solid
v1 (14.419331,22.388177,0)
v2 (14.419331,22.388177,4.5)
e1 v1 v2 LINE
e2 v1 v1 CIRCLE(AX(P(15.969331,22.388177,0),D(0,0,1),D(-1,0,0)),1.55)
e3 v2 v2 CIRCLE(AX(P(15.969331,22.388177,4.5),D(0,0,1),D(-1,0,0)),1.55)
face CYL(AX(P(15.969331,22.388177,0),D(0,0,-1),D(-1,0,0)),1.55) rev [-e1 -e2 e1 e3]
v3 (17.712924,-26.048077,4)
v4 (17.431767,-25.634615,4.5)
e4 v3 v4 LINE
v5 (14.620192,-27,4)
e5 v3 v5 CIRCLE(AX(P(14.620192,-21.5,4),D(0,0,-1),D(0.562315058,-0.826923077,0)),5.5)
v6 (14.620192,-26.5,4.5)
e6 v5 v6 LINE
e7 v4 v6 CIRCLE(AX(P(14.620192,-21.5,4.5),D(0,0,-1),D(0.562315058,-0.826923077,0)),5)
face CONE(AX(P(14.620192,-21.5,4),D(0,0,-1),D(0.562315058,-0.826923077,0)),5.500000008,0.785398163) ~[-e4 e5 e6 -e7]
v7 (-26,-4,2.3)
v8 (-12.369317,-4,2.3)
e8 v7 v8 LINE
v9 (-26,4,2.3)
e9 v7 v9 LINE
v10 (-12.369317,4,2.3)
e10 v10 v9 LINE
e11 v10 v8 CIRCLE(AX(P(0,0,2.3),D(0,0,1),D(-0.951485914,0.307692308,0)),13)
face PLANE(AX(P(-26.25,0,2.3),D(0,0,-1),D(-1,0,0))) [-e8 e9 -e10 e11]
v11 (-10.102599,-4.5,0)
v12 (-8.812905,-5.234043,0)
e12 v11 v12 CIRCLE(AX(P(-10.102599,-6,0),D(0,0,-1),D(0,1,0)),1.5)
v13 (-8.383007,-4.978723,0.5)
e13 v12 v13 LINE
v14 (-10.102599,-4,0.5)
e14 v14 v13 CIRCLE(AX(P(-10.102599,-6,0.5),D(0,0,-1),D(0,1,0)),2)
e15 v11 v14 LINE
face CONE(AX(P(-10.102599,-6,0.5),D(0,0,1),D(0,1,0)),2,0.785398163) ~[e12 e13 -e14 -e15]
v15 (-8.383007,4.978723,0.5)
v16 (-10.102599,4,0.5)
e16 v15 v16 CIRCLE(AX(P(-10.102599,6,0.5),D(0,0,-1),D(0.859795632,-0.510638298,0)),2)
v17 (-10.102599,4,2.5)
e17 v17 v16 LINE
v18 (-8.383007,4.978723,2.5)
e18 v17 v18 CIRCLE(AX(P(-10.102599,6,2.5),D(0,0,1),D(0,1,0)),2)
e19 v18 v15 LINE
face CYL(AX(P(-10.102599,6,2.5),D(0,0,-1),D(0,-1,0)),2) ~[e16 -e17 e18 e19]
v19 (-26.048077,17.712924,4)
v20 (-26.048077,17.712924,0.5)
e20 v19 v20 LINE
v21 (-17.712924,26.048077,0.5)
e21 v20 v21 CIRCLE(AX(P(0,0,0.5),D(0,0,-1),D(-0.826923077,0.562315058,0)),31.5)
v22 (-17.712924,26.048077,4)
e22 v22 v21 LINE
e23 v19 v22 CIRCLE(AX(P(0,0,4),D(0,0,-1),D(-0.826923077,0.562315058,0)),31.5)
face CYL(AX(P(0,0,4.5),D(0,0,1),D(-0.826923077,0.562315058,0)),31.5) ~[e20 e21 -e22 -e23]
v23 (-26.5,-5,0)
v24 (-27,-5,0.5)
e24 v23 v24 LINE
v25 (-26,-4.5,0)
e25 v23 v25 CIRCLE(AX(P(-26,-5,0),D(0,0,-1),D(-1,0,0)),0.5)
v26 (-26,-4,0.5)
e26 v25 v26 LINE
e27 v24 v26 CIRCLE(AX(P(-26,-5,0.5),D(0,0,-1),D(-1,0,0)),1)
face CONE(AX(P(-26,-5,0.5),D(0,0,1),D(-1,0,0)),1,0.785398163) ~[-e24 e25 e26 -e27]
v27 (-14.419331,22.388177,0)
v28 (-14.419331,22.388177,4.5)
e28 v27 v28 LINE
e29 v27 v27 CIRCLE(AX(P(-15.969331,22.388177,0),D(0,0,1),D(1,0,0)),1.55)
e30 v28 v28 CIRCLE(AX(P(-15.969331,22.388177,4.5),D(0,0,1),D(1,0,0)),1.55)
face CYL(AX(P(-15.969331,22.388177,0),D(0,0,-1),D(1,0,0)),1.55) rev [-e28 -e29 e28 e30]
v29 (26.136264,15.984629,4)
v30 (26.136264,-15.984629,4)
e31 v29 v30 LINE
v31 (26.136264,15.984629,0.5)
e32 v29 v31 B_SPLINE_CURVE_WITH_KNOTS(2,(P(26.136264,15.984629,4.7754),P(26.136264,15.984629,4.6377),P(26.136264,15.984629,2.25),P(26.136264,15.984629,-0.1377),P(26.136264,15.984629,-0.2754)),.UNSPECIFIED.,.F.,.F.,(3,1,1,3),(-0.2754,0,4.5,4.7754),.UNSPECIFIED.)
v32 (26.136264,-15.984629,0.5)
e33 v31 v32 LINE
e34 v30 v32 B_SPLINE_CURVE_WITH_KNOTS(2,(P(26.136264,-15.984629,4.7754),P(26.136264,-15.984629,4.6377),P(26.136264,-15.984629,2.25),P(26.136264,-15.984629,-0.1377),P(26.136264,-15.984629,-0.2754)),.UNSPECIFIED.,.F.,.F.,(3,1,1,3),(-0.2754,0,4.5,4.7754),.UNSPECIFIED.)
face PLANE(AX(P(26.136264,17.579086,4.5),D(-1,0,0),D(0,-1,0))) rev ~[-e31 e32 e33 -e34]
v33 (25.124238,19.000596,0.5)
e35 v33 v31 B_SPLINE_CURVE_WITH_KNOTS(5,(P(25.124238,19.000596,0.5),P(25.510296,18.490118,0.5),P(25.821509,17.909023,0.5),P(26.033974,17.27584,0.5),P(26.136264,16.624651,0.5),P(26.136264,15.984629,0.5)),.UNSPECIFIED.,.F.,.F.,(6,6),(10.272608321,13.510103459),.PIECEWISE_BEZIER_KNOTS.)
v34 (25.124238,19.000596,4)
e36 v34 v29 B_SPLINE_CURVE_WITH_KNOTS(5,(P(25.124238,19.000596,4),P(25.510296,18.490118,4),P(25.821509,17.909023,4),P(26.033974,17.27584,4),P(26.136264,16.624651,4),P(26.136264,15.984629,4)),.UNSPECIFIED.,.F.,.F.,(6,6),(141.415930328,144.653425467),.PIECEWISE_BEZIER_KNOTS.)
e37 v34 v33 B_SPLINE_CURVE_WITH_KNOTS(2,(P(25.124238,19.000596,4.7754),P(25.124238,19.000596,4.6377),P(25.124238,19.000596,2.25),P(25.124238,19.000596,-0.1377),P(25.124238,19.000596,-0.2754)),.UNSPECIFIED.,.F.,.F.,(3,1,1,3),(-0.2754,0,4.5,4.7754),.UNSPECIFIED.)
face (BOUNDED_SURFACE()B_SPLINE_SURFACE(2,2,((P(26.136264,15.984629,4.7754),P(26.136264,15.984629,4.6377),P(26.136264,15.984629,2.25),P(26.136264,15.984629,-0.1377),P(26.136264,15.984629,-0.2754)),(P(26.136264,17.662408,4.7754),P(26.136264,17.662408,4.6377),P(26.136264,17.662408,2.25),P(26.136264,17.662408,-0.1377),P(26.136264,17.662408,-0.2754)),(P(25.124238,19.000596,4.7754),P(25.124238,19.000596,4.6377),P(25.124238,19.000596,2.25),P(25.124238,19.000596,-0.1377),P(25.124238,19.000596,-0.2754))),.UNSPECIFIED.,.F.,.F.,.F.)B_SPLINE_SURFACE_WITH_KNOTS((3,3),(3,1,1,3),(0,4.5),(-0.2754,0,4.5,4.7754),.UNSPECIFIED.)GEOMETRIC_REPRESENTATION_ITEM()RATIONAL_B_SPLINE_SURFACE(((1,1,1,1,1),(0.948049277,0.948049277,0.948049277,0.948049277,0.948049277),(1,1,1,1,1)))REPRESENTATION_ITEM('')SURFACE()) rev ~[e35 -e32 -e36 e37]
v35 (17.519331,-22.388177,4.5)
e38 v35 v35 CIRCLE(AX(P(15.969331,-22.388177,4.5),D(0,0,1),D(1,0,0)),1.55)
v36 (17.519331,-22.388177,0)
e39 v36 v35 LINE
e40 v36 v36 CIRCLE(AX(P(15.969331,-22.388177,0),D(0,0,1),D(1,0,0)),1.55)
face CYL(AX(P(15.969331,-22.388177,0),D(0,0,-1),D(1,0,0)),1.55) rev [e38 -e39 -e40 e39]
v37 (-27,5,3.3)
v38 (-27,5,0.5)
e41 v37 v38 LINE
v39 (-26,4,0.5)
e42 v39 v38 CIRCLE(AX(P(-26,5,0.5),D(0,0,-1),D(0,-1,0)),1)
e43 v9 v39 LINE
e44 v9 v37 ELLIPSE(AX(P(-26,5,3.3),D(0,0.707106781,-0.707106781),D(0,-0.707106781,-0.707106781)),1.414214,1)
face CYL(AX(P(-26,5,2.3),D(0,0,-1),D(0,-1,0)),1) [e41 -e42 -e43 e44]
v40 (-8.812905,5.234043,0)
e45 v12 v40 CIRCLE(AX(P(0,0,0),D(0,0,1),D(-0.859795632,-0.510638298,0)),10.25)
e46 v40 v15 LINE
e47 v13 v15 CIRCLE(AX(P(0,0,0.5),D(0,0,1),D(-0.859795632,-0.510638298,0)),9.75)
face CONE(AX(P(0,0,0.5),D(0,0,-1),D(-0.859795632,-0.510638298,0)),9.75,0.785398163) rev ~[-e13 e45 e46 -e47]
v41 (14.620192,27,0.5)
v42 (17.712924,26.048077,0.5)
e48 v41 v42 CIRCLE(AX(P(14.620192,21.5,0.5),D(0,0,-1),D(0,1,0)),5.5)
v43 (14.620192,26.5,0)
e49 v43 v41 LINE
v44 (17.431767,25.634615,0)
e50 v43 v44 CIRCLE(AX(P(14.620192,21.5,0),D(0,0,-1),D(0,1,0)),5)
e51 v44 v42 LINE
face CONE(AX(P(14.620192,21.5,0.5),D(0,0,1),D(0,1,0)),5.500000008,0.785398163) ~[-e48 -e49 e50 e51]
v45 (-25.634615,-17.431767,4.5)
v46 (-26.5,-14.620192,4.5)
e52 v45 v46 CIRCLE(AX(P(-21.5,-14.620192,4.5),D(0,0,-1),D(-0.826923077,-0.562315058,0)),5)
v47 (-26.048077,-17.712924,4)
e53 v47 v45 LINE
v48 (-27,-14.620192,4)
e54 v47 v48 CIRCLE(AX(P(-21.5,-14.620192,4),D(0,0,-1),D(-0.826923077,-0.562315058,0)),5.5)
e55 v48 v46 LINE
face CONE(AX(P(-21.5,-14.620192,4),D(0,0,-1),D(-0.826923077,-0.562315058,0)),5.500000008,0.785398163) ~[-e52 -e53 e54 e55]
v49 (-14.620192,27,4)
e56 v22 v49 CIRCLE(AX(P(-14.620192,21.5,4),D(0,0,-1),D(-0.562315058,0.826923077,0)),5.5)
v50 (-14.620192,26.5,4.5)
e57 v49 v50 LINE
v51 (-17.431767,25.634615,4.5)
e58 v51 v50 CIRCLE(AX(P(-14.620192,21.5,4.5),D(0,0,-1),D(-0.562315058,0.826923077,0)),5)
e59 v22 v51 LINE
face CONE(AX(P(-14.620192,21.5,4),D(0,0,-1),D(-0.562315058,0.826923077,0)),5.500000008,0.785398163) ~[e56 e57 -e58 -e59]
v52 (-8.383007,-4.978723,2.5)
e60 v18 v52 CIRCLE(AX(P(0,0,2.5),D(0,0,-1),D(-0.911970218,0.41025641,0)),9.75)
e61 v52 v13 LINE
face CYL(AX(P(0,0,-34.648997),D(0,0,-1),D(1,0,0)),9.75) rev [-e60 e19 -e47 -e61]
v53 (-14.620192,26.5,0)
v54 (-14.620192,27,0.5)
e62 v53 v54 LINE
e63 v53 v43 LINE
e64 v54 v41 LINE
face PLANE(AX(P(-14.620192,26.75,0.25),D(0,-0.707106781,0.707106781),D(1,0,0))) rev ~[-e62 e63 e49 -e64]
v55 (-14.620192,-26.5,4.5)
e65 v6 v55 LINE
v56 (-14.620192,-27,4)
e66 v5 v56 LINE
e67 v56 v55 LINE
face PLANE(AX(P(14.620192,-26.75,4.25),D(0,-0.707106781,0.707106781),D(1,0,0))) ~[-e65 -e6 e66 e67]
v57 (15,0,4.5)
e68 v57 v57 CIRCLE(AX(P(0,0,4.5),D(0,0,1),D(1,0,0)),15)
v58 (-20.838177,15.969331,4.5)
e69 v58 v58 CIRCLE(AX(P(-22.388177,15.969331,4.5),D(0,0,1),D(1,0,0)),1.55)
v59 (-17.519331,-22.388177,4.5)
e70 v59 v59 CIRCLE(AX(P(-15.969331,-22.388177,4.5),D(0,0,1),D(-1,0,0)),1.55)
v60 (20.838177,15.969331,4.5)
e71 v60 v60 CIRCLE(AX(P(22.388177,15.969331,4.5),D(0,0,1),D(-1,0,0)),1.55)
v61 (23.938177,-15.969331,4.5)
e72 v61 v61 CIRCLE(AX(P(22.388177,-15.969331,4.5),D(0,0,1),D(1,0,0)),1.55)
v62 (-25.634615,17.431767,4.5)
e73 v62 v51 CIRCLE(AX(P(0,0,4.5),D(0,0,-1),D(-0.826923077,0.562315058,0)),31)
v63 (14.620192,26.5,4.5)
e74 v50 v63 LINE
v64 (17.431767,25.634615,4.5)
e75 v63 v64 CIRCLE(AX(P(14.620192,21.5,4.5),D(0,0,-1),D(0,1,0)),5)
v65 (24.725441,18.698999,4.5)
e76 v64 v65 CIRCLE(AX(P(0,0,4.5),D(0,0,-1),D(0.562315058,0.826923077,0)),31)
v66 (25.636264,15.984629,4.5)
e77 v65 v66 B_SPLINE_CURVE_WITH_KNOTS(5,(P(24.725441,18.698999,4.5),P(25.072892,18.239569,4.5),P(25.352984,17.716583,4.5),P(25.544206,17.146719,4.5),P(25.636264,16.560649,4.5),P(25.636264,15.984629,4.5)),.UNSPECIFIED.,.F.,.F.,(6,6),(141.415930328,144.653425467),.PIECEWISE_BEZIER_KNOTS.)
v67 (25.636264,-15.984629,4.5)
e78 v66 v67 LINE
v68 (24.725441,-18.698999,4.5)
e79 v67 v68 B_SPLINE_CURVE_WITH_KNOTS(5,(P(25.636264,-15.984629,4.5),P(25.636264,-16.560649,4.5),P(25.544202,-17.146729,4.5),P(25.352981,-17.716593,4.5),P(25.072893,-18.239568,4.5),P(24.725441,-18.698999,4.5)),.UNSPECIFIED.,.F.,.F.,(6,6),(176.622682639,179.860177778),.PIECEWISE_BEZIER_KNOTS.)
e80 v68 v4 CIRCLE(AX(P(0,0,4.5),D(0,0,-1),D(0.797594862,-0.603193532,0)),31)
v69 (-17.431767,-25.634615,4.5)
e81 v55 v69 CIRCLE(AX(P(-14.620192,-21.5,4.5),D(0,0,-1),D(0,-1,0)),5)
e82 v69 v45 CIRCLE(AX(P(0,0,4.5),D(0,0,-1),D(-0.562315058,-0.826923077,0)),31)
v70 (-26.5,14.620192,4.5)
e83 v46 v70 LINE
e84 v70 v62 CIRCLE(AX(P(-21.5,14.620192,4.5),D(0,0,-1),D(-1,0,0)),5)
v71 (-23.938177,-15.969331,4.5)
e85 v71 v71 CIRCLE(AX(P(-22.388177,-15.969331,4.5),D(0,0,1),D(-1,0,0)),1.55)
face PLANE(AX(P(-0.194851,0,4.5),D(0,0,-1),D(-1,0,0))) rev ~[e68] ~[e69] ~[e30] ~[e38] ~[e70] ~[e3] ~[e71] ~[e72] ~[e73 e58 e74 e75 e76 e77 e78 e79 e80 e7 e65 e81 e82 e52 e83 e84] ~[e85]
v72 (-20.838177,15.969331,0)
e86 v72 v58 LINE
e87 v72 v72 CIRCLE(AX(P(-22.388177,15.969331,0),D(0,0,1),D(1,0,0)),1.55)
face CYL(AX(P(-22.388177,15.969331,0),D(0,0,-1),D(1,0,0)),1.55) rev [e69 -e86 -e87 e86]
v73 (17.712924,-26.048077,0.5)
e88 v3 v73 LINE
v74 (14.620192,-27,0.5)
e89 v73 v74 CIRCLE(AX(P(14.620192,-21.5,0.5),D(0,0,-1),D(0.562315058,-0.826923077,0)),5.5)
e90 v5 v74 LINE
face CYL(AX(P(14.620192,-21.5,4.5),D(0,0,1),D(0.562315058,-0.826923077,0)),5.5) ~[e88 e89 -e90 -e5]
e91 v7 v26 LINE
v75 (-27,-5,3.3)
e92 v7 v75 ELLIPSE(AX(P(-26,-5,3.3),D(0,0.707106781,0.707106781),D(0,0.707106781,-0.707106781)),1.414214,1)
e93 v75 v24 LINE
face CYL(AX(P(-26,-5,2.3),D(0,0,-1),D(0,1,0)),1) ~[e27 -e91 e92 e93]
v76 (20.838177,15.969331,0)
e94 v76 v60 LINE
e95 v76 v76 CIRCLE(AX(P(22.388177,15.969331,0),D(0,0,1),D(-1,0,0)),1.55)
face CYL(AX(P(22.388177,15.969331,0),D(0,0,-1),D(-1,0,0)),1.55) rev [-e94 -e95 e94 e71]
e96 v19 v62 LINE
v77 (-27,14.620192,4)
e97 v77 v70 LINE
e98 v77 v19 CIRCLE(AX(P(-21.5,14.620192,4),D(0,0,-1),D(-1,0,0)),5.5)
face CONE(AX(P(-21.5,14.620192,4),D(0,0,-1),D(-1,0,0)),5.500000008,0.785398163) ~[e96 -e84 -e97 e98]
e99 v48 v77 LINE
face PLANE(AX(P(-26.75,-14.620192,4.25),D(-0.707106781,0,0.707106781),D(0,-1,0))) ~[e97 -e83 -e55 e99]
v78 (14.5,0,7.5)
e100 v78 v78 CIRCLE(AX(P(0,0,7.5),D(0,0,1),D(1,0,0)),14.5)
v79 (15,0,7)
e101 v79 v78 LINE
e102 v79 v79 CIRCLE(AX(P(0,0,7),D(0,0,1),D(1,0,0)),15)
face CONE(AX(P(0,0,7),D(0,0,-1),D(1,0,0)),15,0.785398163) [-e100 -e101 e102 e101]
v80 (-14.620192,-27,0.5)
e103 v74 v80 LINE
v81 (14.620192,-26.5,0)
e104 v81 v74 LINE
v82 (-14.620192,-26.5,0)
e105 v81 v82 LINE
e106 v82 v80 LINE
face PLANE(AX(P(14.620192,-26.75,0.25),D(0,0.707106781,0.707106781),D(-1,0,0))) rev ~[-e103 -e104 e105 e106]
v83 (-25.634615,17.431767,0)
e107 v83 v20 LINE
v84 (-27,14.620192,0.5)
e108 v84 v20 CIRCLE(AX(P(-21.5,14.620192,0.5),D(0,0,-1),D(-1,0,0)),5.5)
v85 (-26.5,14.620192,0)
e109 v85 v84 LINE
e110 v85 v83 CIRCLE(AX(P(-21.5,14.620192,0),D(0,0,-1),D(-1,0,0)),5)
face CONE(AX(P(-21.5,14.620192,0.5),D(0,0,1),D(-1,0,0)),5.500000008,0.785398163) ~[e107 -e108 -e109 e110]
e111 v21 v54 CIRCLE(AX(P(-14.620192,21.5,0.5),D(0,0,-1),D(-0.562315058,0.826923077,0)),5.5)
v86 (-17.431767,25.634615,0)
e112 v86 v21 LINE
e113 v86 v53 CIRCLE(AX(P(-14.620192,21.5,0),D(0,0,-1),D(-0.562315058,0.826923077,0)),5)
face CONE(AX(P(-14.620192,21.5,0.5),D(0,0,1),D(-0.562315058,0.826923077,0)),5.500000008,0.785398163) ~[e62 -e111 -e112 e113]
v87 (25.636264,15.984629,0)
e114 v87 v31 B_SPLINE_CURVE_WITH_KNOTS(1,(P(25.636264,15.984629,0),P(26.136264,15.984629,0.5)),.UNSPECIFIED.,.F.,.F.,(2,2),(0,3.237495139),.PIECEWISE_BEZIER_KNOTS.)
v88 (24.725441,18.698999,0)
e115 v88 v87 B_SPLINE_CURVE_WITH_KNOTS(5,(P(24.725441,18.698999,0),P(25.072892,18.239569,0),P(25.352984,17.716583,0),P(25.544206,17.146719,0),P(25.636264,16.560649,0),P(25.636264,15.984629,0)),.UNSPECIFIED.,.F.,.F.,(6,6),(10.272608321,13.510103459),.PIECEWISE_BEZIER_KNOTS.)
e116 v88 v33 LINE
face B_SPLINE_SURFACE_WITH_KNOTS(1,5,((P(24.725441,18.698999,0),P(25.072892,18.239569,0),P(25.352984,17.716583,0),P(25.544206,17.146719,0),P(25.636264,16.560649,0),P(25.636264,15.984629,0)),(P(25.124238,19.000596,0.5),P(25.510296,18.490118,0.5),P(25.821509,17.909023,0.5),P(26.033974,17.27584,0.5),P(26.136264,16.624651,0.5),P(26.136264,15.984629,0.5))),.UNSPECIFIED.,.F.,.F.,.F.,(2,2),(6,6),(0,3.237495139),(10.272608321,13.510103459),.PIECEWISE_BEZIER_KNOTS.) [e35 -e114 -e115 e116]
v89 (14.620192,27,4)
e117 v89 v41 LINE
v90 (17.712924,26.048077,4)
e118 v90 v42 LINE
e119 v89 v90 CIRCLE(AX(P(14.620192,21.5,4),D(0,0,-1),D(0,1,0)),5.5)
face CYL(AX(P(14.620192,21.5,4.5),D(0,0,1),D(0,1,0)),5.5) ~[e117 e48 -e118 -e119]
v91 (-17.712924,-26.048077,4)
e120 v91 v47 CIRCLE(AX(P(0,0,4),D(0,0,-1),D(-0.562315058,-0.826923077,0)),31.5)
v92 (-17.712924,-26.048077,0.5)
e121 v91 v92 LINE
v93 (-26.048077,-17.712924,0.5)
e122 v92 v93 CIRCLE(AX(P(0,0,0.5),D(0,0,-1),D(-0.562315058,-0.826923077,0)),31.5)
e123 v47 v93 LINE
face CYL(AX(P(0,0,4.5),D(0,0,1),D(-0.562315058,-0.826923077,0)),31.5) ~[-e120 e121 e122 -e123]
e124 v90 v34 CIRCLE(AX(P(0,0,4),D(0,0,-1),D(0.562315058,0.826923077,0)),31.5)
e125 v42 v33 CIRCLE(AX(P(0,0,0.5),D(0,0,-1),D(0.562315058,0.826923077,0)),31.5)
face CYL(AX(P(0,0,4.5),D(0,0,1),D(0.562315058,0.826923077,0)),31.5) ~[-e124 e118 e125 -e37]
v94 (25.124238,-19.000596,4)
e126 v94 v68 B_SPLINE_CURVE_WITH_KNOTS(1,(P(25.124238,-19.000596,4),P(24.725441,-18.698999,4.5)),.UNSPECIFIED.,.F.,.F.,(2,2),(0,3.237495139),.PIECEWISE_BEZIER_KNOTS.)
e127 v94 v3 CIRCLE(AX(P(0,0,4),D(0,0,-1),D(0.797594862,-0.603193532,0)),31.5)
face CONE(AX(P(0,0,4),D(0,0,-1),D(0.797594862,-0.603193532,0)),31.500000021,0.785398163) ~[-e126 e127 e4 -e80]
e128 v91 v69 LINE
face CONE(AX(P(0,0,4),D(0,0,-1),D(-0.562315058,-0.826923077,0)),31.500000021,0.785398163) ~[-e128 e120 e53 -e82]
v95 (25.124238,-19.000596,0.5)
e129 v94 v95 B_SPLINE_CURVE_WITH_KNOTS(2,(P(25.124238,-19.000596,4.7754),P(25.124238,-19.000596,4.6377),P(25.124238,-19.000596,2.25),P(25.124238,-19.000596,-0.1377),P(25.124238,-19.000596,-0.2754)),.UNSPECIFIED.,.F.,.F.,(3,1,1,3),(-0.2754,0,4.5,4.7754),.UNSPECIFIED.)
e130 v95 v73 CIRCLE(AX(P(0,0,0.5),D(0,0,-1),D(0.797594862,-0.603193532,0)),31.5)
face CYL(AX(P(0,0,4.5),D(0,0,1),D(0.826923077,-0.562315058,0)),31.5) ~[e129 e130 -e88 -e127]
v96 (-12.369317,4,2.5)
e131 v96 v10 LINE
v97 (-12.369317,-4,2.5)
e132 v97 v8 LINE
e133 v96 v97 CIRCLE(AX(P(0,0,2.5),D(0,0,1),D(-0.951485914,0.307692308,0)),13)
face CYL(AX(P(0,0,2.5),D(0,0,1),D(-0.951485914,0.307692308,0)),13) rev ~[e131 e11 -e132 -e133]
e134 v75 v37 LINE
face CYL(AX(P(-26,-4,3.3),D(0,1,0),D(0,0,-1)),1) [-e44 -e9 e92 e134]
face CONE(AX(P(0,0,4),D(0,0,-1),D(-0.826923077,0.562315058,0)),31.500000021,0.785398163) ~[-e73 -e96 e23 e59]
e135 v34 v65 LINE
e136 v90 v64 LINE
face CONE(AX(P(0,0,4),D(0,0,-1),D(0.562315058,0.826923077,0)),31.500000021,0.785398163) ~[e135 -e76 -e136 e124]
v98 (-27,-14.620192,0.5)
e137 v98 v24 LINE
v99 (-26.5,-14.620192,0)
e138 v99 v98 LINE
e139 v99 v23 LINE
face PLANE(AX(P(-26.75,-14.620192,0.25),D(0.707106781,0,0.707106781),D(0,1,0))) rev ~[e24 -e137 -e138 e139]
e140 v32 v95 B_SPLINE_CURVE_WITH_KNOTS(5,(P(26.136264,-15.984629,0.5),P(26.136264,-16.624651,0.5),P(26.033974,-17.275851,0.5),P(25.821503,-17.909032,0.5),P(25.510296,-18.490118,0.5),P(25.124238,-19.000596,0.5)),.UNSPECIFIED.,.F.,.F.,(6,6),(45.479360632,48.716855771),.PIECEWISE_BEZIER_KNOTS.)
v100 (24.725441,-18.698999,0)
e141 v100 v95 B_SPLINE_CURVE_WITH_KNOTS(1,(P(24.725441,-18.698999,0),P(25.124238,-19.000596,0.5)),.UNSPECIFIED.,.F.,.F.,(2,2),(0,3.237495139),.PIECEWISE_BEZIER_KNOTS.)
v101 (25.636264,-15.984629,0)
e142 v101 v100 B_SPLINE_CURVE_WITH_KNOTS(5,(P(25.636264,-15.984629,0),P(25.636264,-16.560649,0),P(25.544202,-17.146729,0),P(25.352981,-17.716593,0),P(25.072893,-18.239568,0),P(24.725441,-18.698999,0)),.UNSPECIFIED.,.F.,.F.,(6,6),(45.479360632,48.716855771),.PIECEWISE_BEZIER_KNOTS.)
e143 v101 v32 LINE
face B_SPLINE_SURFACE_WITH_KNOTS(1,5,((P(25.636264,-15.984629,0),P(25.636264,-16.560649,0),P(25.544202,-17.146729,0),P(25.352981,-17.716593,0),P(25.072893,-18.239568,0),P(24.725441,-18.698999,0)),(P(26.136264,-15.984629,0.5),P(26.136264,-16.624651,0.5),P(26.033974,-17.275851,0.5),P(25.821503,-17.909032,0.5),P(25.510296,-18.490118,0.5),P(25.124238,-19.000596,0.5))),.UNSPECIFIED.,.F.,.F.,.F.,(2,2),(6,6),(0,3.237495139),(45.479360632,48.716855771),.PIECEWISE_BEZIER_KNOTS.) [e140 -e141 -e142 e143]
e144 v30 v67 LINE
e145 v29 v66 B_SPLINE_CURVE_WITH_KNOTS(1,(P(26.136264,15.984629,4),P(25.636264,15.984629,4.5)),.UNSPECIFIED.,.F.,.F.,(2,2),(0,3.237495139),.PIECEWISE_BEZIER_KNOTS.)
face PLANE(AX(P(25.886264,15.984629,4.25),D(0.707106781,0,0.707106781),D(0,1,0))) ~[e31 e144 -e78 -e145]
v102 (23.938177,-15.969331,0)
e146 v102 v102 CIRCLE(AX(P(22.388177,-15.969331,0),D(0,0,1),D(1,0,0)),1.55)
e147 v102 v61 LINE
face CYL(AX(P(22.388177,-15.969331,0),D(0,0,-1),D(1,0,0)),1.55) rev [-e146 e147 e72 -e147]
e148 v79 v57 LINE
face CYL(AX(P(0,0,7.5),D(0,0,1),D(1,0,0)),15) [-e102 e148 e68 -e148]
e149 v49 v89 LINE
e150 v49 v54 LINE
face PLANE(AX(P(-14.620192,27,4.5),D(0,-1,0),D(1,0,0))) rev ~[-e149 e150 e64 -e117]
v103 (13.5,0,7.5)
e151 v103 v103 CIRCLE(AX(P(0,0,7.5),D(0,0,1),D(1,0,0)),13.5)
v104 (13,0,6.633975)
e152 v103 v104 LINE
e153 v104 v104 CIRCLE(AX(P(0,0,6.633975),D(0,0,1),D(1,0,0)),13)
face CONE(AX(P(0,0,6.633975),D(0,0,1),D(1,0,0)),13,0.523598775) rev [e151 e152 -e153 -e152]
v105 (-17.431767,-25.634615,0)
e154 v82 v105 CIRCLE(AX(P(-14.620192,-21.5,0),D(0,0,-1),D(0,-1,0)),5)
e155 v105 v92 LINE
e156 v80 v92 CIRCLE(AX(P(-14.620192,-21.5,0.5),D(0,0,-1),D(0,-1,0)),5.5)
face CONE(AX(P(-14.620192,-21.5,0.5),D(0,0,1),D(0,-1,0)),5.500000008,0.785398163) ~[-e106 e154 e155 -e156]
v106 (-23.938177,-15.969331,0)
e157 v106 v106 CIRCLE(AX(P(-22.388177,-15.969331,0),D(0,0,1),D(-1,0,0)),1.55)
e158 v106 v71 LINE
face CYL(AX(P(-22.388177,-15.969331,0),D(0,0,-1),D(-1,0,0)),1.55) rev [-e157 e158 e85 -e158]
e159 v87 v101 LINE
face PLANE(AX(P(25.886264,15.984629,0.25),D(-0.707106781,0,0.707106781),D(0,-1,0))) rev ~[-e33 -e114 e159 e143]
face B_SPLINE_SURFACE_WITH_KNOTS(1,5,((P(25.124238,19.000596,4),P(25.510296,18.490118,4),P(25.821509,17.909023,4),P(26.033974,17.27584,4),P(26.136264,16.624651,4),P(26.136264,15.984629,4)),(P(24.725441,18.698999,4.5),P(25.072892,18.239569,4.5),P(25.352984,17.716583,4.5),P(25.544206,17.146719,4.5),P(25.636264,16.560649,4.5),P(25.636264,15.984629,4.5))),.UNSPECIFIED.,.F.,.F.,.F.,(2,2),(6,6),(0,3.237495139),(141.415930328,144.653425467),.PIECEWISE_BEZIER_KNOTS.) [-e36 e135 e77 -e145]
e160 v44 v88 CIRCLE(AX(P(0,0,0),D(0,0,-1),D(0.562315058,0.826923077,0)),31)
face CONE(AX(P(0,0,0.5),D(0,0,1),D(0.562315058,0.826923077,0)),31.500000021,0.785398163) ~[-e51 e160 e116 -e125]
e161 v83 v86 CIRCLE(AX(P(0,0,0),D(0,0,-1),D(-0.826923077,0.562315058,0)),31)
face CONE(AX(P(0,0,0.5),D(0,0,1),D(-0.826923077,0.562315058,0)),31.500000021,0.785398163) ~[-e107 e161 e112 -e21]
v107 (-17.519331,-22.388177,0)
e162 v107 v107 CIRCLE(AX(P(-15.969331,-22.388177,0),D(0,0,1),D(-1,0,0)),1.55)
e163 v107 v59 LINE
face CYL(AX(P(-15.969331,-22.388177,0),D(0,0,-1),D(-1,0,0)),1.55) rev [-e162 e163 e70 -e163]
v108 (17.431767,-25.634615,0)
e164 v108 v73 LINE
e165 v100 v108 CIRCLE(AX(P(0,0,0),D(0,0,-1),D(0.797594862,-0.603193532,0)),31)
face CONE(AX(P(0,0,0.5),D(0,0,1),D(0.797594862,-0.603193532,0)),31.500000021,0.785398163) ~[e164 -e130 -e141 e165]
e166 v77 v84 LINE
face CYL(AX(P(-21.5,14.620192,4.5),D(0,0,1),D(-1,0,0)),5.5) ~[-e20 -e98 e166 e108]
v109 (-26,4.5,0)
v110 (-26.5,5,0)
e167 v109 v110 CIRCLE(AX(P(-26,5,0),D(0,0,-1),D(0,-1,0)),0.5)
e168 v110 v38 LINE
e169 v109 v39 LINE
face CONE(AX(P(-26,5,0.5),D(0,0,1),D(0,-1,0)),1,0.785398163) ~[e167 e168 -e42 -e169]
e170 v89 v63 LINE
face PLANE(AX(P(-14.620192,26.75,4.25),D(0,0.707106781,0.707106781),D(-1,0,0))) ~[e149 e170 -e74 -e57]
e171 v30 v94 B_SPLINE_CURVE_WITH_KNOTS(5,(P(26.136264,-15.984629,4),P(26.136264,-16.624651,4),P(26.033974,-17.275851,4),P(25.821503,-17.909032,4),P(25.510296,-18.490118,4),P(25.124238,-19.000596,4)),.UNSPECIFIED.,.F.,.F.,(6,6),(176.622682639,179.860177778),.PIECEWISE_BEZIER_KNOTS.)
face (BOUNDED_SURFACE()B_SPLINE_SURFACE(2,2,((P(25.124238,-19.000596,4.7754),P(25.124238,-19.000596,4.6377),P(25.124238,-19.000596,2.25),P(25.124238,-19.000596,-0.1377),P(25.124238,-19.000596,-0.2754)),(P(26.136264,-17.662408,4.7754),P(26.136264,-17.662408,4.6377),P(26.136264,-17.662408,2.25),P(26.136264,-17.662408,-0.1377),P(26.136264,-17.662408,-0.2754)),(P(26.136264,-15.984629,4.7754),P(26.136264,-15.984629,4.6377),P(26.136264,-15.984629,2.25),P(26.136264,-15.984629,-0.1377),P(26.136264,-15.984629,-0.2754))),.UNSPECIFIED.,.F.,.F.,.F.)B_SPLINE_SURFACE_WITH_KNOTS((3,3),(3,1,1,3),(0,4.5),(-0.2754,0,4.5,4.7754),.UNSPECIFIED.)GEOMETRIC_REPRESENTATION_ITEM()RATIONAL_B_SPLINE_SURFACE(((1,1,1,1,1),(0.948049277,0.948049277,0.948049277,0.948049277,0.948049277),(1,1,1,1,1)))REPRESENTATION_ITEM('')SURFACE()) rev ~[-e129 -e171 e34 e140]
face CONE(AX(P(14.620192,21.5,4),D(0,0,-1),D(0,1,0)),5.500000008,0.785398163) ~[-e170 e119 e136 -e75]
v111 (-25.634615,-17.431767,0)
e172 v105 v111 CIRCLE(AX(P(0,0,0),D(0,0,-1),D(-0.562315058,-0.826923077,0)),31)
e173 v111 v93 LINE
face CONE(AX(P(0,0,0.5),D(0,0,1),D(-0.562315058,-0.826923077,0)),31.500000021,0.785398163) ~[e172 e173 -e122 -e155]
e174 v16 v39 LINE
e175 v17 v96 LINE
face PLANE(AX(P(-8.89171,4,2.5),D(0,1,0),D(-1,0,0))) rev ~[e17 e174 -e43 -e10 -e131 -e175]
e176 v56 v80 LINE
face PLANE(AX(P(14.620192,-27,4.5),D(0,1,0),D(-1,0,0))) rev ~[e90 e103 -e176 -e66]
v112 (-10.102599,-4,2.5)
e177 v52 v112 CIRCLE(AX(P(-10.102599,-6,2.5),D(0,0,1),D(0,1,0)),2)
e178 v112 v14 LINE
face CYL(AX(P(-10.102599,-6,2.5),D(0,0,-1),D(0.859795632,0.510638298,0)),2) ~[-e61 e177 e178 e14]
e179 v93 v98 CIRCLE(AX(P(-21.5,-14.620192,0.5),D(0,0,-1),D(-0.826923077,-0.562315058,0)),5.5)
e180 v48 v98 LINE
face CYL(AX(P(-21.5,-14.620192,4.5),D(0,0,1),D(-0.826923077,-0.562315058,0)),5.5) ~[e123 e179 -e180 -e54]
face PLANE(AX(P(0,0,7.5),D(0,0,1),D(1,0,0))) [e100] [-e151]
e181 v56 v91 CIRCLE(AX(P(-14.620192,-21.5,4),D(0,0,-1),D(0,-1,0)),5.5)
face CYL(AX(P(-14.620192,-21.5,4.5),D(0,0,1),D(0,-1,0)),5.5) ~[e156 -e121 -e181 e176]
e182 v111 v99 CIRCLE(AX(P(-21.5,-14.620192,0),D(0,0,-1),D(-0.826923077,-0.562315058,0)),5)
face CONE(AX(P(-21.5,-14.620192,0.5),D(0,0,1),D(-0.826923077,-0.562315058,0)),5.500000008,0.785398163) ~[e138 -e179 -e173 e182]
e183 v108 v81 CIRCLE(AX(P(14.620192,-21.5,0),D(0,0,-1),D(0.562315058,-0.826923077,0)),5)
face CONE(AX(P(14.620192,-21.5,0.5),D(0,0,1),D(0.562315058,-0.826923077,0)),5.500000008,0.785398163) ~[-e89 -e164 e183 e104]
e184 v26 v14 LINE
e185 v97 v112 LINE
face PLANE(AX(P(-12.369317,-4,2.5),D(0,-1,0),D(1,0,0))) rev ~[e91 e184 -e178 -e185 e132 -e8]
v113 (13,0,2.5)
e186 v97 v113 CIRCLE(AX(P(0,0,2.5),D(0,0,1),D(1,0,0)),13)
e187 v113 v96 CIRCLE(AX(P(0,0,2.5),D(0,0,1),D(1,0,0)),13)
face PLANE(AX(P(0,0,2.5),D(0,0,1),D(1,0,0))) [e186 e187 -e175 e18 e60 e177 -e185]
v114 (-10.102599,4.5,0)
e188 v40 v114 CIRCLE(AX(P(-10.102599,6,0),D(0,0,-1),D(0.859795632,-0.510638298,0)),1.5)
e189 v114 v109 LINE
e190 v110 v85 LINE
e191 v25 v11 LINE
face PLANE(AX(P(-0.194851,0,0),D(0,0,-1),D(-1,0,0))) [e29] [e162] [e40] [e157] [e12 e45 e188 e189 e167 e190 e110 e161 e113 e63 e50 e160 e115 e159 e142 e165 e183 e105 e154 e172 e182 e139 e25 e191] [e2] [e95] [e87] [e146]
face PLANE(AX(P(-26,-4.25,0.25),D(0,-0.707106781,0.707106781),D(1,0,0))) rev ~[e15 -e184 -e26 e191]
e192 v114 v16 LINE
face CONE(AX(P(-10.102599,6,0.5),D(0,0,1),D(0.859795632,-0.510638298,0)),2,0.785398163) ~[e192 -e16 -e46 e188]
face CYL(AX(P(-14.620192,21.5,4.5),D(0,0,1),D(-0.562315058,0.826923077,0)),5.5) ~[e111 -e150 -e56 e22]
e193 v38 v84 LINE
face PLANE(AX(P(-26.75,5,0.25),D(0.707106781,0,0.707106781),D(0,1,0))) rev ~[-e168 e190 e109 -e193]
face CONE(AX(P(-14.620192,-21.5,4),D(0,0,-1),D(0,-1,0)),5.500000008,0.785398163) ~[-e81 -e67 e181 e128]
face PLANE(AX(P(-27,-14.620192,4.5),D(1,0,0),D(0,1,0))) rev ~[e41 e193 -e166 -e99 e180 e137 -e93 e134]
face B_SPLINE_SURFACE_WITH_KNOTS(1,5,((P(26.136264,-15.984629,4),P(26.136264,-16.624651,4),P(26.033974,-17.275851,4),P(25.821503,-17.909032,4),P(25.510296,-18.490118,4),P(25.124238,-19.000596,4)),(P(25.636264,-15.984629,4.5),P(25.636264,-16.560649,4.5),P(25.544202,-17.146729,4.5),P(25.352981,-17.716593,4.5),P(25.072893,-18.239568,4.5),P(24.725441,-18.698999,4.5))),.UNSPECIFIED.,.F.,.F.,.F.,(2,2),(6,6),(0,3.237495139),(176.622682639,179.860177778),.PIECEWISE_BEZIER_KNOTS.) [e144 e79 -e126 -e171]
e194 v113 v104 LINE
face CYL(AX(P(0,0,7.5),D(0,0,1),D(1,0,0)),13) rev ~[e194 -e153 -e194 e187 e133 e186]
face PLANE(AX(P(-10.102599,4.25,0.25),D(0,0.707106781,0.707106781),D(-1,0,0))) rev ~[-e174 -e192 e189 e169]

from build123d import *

# Parameters (mm, degrees)
SKETCH_2_W               = 51
SKETCH_2_H               = 51
SKETCH_2_R               = 1.55
EXTRUDE_1_DEPTH          = 4.5
CUT_EXTRUDE_1_DEPTH      = 5
FILLET_1_R               = 4
SKETCH_5_R               = 13
CUT_EXTRUDE_2_DEPTH      = 2
CUT_EXTRUDE_3_DEPTH      = 37.14899722
CUT_EXTRUDE_3_DEPTH_BACK = 37.14899722
SKETCH_6_R               = 9.75
CUT_EXTRUDE_4_DEPTH      = 37.342124319
CUT_EXTRUDE_4_DEPTH_BACK = 2.3
SKETCH_8_W               = 28
SKETCH_8_H               = 8
EXTRUDE_START            = -4.5
EXTRUDE_2_DEPTH          = 4.5
CUT_EXTRUDE_7_DEPTH      = 39.448016854
CUT_EXTRUDE_7_DEPTH_BACK = 2.3
SKETCH_11_W              = 1.5
SKETCH_11_H              = 8
FILLET_3_R               = 1
FILLET_4_R               = 5
EXTRUDE_START_2          = 3
SKETCH_12_R              = 15
SKETCH_12_R_2            = 13
EXTRUDE_3_DEPTH          = 3
CUT_EXTRUDE_START        = -0.2
CUT_EXTRUDE_8_DEPTH      = 0.2
FILLET_5_R               = 2
CHAMFER_1_SIZE           = 0.5
CHAMFER_2_SIZE           = 0.5
CHAMFER_2_SIZE2          = 0.866025404


with BuildPart() as part:
    # 草图2 → 凸台-拉伸1 (new body)
    with BuildSketch(Plane.XY):
        Rectangle(SKETCH_2_W, SKETCH_2_H)
        with Locations((-22.388176755, 15.969331282)):
            Circle(SKETCH_2_R, mode=Mode.SUBTRACT)
        with Locations((-15.969331282, 22.388176755)):
            Circle(SKETCH_2_R, mode=Mode.SUBTRACT)
        with Locations(Location((15.969331282, 22.388176755, 0), (0, 0, 180))):
            Circle(SKETCH_2_R, mode=Mode.SUBTRACT)
        with Locations(Location((22.388176755, 15.969331282, 0), (0, 0, 180))):
            Circle(SKETCH_2_R, mode=Mode.SUBTRACT)
        with Locations((22.388176755, -15.969331282)):
            Circle(SKETCH_2_R, mode=Mode.SUBTRACT)
        with Locations((15.969331282, -22.388176755)):
            Circle(SKETCH_2_R, mode=Mode.SUBTRACT)
        with Locations(Location((-15.969331282, -22.388176755, 0), (0, 0, 180))):
            Circle(SKETCH_2_R, mode=Mode.SUBTRACT)
        with Locations(Location((-22.388176755, -15.969331282, 0), (0, 0, 180))):
            Circle(SKETCH_2_R, mode=Mode.SUBTRACT)
    extrude(amount=EXTRUDE_1_DEPTH)

    # 草图4 → 切除-拉伸1 (cut)
    with BuildSketch(Plane.XY.offset(4.5)):
        with BuildLine():
            Line((-25.5, -15.803480629), (-25.5, -25.5))
            Line((-25.5, -25.5), (-15.803480629, -25.5))
            ThreePointArc((-15.803480629, -25.5), (-21.213203436, -21.213203436), (-25.5, -15.803480629))
        make_face()
        with BuildLine():
            Line((15.803480629, -25.5), (25.5, -25.5))
            Line((25.5, -25.5), (25.5, -15.803480629))
            ThreePointArc((25.5, -15.803480629), (21.213203436, -21.213203436), (15.803480629, -25.5))
        make_face()
        with BuildLine():
            Line((25.5, 15.803480629), (25.5, 25.5))
            Line((25.5, 25.5), (15.803480629, 25.5))
            ThreePointArc((15.803480629, 25.5), (21.213203436, 21.213203436), (25.5, 15.803480629))
        make_face()
        with BuildLine():
            Line((-15.803480629, 25.5), (-25.5, 25.5))
            Line((-25.5, 25.5), (-25.5, 15.803480629))
            ThreePointArc((-25.5, 15.803480629), (-21.213203436, 21.213203436), (-15.803480629, 25.5))
        make_face()
    extrude(amount=-CUT_EXTRUDE_1_DEPTH, mode=Mode.SUBTRACT)

    # 圆角1
    fillet_1_edges = [part.edges().sort_by_distance(p)[0] for p in [
        (-15.803480629, -25.5, 2.25),
        (15.803480629, -25.5, 2.25),
        (-25.5, 15.803480629, 2.25),
        (15.803480629, 25.5, 2.25),
        (-15.803480629, 25.5, 2.25),
        (25.5, 15.803480629, 2.25),
        (25.5, -15.803480629, 2.25),
        (-25.5, -15.803480629, 2.25),
    ]]
    fillet(fillet_1_edges, radius=FILLET_1_R)

    # 草图5 → 切除-拉伸2 (cut)
    with BuildSketch(Plane.XY.offset(4.5)):
        Circle(SKETCH_5_R)
    extrude(amount=-CUT_EXTRUDE_2_DEPTH, mode=Mode.SUBTRACT)

    # 草图6 → 切除-拉伸3 (cut, two sides: drawn at the far end of the back side and taken through both)
    with BuildSketch(Plane.XY.offset(2.5).offset(-CUT_EXTRUDE_3_DEPTH_BACK)):
        Circle(SKETCH_6_R)
    extrude(amount=CUT_EXTRUDE_3_DEPTH + CUT_EXTRUDE_3_DEPTH_BACK, mode=Mode.SUBTRACT)

    # 草图8 → 切除-拉伸4 (cut, two sides: drawn at the far end of the back side and taken through both)
    with BuildSketch(Plane(origin=(0, 0, 0), x_dir=(-1, 0, 0), z_dir=(0, 0, -1)).offset(-CUT_EXTRUDE_4_DEPTH_BACK)):
        with Locations((22.891709622, 0)):
            Rectangle(SKETCH_8_W, SKETCH_8_H)
    extrude(amount=CUT_EXTRUDE_4_DEPTH + CUT_EXTRUDE_4_DEPTH_BACK, mode=Mode.SUBTRACT)

    # 草图9 → 凸台-拉伸2 (add)
    with BuildSketch(Plane(origin=(0, 0, 0), x_dir=(-1, 0, 0), z_dir=(0, 0, -1)).offset(EXTRUDE_START)):
        with BuildLine():
            ThreePointArc((-26.048076923, 17.712924338), (-26.09265794, 17.646326518), (-26.136263836, 17.579086183))
            Line((-26.136263836, 17.579086183), (-26.136263836, -17.579086183))
            ThreePointArc((-26.136263836, -17.579086183), (-26.09265794, -17.646326518), (-26.048076923, -17.712924338))
            ThreePointArc((-26.048076923, -17.712924338), (-22.273863607, -22.273863607), (-17.712924338, -26.048076923))
            ThreePointArc((-17.712924338, -26.048076923), (-16.238149632, -26.756635001), (-14.620191517, -27))
            Line((-14.620191517, -27), (14.620191517, -27))
            ThreePointArc((14.620191517, -27), (16.238149632, -26.756635001), (17.712924338, -26.048076923))
            ThreePointArc((17.712924338, -26.048076923), (22.273863607, -22.273863607), (26.048076923, -17.712924338))
            ThreePointArc((26.048076923, -17.712924338), (26.756635001, -16.238149632), (27, -14.620191517))
            Line((27, -14.620191517), (27, 14.620191517))
            ThreePointArc((27, 14.620191517), (26.756635001, 16.238149632), (26.048076923, 17.712924338))
            ThreePointArc((26.048076923, 17.712924338), (22.273863607, 22.273863607), (17.712924338, 26.048076923))
            ThreePointArc((17.712924338, 26.048076923), (16.238149632, 26.756635001), (14.620191517, 27))
            Line((14.620191517, 27), (-14.620191517, 27))
            ThreePointArc((-14.620191517, 27), (-16.238149632, 26.756635001), (-17.712924338, 26.048076923))
            ThreePointArc((-17.712924338, 26.048076923), (-22.273863607, 22.273863607), (-26.048076923, 17.712924338))
        make_face()
        with BuildLine():
            Line((25.5, 14.620191517), (25.5, 5))
            Line((25.5, 5), (25.5, 4))
            Line((25.5, 4), (25.5, -4))
            Line((25.5, -4), (25.5, -14.620191517))
            ThreePointArc((25.5, -14.620191517), (25.323007274, -15.796888328), (24.807692308, -16.869451751))
            ThreePointArc((24.807692308, -16.869451751), (21.213203436, -21.213203436), (16.869451751, -24.807692308))
            ThreePointArc((16.869451751, -24.807692308), (15.796888328, -25.323007274), (14.620191517, -25.5))
            Line((14.620191517, -25.5), (-14.620191517, -25.5))
            ThreePointArc((-14.620191517, -25.5), (-15.796888328, -25.323007274), (-16.869451751, -24.807692308))
            ThreePointArc((-16.869451751, -24.807692308), (-21.213203436, -21.213203436), (-24.807692308, -16.869451751))
            ThreePointArc((-24.807692308, -16.869451751), (-25.323007274, -15.796888328), (-25.5, -14.620191517))
            Line((-25.5, -14.620191517), (-25.5, 14.620191517))
            ThreePointArc((-25.5, 14.620191517), (-25.323007274, 15.796888328), (-24.807692308, 16.869451751))
            ThreePointArc((-24.807692308, 16.869451751), (-21.213203436, 21.213203436), (-16.869451751, 24.807692308))
            ThreePointArc((-16.869451751, 24.807692308), (-15.796888328, 25.323007274), (-14.620191517, 25.5))
            Line((-14.620191517, 25.5), (14.620191517, 25.5))
            ThreePointArc((14.620191517, 25.5), (15.796888328, 25.323007274), (16.869451751, 24.807692308))
            ThreePointArc((16.869451751, 24.807692308), (21.213203436, 21.213203436), (24.807692308, 16.869451751))
            ThreePointArc((24.807692308, 16.869451751), (25.323007274, 15.796888328), (25.5, 14.620191517))
        make_face(mode=Mode.SUBTRACT)
    extrude(amount=EXTRUDE_2_DEPTH)

    # 草图11 → 切除-拉伸7 (cut, two sides: drawn at the far end of the back side and taken through both)
    with BuildSketch(Plane(origin=(0, 0, 0), x_dir=(-1, 0, 0), z_dir=(0, 0, -1)).offset(-CUT_EXTRUDE_7_DEPTH_BACK)):
        with Locations((26.25, 0)):
            Rectangle(SKETCH_11_W, SKETCH_11_H)
    extrude(amount=CUT_EXTRUDE_7_DEPTH + CUT_EXTRUDE_7_DEPTH_BACK, mode=Mode.SUBTRACT)

    # 圆角3
    fillet_3_edges = [part.edges().sort_by_distance(p)[0] for p in [
        (-27, 4, 1.15),
        (-27, -4, 1.15),
        (-27, 0, 2.3),
    ]]
    fillet(fillet_3_edges, radius=FILLET_3_R)

    # 圆角4
    fillet_4_edges = [part.edges().sort_by_distance(p)[0] for p in [
        (26.136263836, 17.579086183, 2.25),
        (26.136263836, -17.579086183, 2.25),
    ]]
    fillet(fillet_4_edges, radius=FILLET_4_R)

    # 草图12 → 凸台-拉伸3 (add)
    with BuildSketch(Plane.XY.offset(4.5).offset(EXTRUDE_START_2)):
        Circle(SKETCH_12_R)
        Circle(SKETCH_12_R_2, mode=Mode.SUBTRACT)
    extrude(amount=-EXTRUDE_3_DEPTH)

    # 草图13 → 切除-拉伸8 (cut)
    with BuildSketch(Plane(origin=(0, 0, 2.3), x_dir=(-1, 0, 0), z_dir=(0, 0, -1)).offset(CUT_EXTRUDE_START)):
        with BuildLine():
            Line((8.891709622, 4), (12.369316877, 4))
            ThreePointArc((12.369316877, 4), (13, 0), (12.369316877, -4))
            Line((12.369316877, -4), (8.891709622, -4))
            ThreePointArc((8.891709622, -4), (9.75, 0), (8.891709622, 4))
        make_face()
    extrude(amount=CUT_EXTRUDE_8_DEPTH, mode=Mode.SUBTRACT)

    # 圆角5
    fillet_5_edges = [part.edges().sort_by_distance(p)[0] for p in [
        (-8.891709622, -4, 1.25),
        (-8.891709622, 4, 1.25),
    ]]
    fillet(fillet_5_edges, radius=FILLET_5_R)

    # 倒角1
    chamfer_1_edges = [part.edges().sort_by_distance(p)[0] for p in [
        (21.706505209, 22.827124909, 0),
        (16.238149632, -26.756635001, 0),
        (0, -27, 0),
        (-16.238149632, -26.756635001, 0),
        (-22.273863607, -22.273863607, 0),
        (-26.756635001, -16.238149632, 0),
        (-27, -9.810095759, 0),
        (-26.756635001, 16.238149632, 0),
        (-22.273863607, 22.273863607, 0),
        (-16.238149632, 26.756635001, 0),
        (0, 27, 0),
        (16.238149632, 26.756635001, 0),
        (16.238149632, -26.756635001, 4.5),
        (0, -27, 4.5),
        (-16.238149632, -26.756635001, 4.5),
        (-22.273863607, -22.273863607, 4.5),
        (-26.756635001, -16.238149632, 4.5),
        (-27, 0, 4.5),
        (-26.756635001, 16.238149632, 4.5),
        (-22.273863607, 22.273863607, 4.5),
        (-16.238149632, 26.756635001, 4.5),
        (0, 27, 4.5),
        (16.238149632, 26.756635001, 4.5),
        (21.706505209, 22.827124909, 4.5),
        (-27, 9.810095759, 0),
        (-18.051299338, 4, 0),
        (-26.707106781, 4.292893219, 0),
        (-26.707106781, -4.292893219, 0),
        (26.136263836, 0, 0),
        (21.706505209, -22.827124909, 0),
        (25.876510219, -17.575246148, 0),
        (25.876510219, 17.575246148, 0),
        (26.136263836, 0, 4.5),
        (21.706505209, -22.827124909, 4.5),
        (25.876510219, -17.575246148, 4.5),
        (25.876510219, 17.575246148, 4.5),
        (-15, 0, 7.5),
        (-18.051299338, -4, 0),
        (9.75, 0, 0),
        (-9.11329417, 4.26181802, 0),
        (-9.11329417, -4.26181802, 0),
    ]]
    chamfer(chamfer_1_edges, length=CHAMFER_1_SIZE)

    # 倒角2
    chamfer_2_edges = [part.edges().sort_by_distance(p)[0] for p in [
        (-13, 0, 7.5),
    ]]
    chamfer_2_side = [part.faces().sort_by_distance(p)[0] for p in [
        (-14.089878067, 0, 7.5),
    ]]
    chamfer(chamfer_2_edges, length=CHAMFER_2_SIZE, length2=CHAMFER_2_SIZE2, reference=chamfer_2_side[0])


solid = part.part
